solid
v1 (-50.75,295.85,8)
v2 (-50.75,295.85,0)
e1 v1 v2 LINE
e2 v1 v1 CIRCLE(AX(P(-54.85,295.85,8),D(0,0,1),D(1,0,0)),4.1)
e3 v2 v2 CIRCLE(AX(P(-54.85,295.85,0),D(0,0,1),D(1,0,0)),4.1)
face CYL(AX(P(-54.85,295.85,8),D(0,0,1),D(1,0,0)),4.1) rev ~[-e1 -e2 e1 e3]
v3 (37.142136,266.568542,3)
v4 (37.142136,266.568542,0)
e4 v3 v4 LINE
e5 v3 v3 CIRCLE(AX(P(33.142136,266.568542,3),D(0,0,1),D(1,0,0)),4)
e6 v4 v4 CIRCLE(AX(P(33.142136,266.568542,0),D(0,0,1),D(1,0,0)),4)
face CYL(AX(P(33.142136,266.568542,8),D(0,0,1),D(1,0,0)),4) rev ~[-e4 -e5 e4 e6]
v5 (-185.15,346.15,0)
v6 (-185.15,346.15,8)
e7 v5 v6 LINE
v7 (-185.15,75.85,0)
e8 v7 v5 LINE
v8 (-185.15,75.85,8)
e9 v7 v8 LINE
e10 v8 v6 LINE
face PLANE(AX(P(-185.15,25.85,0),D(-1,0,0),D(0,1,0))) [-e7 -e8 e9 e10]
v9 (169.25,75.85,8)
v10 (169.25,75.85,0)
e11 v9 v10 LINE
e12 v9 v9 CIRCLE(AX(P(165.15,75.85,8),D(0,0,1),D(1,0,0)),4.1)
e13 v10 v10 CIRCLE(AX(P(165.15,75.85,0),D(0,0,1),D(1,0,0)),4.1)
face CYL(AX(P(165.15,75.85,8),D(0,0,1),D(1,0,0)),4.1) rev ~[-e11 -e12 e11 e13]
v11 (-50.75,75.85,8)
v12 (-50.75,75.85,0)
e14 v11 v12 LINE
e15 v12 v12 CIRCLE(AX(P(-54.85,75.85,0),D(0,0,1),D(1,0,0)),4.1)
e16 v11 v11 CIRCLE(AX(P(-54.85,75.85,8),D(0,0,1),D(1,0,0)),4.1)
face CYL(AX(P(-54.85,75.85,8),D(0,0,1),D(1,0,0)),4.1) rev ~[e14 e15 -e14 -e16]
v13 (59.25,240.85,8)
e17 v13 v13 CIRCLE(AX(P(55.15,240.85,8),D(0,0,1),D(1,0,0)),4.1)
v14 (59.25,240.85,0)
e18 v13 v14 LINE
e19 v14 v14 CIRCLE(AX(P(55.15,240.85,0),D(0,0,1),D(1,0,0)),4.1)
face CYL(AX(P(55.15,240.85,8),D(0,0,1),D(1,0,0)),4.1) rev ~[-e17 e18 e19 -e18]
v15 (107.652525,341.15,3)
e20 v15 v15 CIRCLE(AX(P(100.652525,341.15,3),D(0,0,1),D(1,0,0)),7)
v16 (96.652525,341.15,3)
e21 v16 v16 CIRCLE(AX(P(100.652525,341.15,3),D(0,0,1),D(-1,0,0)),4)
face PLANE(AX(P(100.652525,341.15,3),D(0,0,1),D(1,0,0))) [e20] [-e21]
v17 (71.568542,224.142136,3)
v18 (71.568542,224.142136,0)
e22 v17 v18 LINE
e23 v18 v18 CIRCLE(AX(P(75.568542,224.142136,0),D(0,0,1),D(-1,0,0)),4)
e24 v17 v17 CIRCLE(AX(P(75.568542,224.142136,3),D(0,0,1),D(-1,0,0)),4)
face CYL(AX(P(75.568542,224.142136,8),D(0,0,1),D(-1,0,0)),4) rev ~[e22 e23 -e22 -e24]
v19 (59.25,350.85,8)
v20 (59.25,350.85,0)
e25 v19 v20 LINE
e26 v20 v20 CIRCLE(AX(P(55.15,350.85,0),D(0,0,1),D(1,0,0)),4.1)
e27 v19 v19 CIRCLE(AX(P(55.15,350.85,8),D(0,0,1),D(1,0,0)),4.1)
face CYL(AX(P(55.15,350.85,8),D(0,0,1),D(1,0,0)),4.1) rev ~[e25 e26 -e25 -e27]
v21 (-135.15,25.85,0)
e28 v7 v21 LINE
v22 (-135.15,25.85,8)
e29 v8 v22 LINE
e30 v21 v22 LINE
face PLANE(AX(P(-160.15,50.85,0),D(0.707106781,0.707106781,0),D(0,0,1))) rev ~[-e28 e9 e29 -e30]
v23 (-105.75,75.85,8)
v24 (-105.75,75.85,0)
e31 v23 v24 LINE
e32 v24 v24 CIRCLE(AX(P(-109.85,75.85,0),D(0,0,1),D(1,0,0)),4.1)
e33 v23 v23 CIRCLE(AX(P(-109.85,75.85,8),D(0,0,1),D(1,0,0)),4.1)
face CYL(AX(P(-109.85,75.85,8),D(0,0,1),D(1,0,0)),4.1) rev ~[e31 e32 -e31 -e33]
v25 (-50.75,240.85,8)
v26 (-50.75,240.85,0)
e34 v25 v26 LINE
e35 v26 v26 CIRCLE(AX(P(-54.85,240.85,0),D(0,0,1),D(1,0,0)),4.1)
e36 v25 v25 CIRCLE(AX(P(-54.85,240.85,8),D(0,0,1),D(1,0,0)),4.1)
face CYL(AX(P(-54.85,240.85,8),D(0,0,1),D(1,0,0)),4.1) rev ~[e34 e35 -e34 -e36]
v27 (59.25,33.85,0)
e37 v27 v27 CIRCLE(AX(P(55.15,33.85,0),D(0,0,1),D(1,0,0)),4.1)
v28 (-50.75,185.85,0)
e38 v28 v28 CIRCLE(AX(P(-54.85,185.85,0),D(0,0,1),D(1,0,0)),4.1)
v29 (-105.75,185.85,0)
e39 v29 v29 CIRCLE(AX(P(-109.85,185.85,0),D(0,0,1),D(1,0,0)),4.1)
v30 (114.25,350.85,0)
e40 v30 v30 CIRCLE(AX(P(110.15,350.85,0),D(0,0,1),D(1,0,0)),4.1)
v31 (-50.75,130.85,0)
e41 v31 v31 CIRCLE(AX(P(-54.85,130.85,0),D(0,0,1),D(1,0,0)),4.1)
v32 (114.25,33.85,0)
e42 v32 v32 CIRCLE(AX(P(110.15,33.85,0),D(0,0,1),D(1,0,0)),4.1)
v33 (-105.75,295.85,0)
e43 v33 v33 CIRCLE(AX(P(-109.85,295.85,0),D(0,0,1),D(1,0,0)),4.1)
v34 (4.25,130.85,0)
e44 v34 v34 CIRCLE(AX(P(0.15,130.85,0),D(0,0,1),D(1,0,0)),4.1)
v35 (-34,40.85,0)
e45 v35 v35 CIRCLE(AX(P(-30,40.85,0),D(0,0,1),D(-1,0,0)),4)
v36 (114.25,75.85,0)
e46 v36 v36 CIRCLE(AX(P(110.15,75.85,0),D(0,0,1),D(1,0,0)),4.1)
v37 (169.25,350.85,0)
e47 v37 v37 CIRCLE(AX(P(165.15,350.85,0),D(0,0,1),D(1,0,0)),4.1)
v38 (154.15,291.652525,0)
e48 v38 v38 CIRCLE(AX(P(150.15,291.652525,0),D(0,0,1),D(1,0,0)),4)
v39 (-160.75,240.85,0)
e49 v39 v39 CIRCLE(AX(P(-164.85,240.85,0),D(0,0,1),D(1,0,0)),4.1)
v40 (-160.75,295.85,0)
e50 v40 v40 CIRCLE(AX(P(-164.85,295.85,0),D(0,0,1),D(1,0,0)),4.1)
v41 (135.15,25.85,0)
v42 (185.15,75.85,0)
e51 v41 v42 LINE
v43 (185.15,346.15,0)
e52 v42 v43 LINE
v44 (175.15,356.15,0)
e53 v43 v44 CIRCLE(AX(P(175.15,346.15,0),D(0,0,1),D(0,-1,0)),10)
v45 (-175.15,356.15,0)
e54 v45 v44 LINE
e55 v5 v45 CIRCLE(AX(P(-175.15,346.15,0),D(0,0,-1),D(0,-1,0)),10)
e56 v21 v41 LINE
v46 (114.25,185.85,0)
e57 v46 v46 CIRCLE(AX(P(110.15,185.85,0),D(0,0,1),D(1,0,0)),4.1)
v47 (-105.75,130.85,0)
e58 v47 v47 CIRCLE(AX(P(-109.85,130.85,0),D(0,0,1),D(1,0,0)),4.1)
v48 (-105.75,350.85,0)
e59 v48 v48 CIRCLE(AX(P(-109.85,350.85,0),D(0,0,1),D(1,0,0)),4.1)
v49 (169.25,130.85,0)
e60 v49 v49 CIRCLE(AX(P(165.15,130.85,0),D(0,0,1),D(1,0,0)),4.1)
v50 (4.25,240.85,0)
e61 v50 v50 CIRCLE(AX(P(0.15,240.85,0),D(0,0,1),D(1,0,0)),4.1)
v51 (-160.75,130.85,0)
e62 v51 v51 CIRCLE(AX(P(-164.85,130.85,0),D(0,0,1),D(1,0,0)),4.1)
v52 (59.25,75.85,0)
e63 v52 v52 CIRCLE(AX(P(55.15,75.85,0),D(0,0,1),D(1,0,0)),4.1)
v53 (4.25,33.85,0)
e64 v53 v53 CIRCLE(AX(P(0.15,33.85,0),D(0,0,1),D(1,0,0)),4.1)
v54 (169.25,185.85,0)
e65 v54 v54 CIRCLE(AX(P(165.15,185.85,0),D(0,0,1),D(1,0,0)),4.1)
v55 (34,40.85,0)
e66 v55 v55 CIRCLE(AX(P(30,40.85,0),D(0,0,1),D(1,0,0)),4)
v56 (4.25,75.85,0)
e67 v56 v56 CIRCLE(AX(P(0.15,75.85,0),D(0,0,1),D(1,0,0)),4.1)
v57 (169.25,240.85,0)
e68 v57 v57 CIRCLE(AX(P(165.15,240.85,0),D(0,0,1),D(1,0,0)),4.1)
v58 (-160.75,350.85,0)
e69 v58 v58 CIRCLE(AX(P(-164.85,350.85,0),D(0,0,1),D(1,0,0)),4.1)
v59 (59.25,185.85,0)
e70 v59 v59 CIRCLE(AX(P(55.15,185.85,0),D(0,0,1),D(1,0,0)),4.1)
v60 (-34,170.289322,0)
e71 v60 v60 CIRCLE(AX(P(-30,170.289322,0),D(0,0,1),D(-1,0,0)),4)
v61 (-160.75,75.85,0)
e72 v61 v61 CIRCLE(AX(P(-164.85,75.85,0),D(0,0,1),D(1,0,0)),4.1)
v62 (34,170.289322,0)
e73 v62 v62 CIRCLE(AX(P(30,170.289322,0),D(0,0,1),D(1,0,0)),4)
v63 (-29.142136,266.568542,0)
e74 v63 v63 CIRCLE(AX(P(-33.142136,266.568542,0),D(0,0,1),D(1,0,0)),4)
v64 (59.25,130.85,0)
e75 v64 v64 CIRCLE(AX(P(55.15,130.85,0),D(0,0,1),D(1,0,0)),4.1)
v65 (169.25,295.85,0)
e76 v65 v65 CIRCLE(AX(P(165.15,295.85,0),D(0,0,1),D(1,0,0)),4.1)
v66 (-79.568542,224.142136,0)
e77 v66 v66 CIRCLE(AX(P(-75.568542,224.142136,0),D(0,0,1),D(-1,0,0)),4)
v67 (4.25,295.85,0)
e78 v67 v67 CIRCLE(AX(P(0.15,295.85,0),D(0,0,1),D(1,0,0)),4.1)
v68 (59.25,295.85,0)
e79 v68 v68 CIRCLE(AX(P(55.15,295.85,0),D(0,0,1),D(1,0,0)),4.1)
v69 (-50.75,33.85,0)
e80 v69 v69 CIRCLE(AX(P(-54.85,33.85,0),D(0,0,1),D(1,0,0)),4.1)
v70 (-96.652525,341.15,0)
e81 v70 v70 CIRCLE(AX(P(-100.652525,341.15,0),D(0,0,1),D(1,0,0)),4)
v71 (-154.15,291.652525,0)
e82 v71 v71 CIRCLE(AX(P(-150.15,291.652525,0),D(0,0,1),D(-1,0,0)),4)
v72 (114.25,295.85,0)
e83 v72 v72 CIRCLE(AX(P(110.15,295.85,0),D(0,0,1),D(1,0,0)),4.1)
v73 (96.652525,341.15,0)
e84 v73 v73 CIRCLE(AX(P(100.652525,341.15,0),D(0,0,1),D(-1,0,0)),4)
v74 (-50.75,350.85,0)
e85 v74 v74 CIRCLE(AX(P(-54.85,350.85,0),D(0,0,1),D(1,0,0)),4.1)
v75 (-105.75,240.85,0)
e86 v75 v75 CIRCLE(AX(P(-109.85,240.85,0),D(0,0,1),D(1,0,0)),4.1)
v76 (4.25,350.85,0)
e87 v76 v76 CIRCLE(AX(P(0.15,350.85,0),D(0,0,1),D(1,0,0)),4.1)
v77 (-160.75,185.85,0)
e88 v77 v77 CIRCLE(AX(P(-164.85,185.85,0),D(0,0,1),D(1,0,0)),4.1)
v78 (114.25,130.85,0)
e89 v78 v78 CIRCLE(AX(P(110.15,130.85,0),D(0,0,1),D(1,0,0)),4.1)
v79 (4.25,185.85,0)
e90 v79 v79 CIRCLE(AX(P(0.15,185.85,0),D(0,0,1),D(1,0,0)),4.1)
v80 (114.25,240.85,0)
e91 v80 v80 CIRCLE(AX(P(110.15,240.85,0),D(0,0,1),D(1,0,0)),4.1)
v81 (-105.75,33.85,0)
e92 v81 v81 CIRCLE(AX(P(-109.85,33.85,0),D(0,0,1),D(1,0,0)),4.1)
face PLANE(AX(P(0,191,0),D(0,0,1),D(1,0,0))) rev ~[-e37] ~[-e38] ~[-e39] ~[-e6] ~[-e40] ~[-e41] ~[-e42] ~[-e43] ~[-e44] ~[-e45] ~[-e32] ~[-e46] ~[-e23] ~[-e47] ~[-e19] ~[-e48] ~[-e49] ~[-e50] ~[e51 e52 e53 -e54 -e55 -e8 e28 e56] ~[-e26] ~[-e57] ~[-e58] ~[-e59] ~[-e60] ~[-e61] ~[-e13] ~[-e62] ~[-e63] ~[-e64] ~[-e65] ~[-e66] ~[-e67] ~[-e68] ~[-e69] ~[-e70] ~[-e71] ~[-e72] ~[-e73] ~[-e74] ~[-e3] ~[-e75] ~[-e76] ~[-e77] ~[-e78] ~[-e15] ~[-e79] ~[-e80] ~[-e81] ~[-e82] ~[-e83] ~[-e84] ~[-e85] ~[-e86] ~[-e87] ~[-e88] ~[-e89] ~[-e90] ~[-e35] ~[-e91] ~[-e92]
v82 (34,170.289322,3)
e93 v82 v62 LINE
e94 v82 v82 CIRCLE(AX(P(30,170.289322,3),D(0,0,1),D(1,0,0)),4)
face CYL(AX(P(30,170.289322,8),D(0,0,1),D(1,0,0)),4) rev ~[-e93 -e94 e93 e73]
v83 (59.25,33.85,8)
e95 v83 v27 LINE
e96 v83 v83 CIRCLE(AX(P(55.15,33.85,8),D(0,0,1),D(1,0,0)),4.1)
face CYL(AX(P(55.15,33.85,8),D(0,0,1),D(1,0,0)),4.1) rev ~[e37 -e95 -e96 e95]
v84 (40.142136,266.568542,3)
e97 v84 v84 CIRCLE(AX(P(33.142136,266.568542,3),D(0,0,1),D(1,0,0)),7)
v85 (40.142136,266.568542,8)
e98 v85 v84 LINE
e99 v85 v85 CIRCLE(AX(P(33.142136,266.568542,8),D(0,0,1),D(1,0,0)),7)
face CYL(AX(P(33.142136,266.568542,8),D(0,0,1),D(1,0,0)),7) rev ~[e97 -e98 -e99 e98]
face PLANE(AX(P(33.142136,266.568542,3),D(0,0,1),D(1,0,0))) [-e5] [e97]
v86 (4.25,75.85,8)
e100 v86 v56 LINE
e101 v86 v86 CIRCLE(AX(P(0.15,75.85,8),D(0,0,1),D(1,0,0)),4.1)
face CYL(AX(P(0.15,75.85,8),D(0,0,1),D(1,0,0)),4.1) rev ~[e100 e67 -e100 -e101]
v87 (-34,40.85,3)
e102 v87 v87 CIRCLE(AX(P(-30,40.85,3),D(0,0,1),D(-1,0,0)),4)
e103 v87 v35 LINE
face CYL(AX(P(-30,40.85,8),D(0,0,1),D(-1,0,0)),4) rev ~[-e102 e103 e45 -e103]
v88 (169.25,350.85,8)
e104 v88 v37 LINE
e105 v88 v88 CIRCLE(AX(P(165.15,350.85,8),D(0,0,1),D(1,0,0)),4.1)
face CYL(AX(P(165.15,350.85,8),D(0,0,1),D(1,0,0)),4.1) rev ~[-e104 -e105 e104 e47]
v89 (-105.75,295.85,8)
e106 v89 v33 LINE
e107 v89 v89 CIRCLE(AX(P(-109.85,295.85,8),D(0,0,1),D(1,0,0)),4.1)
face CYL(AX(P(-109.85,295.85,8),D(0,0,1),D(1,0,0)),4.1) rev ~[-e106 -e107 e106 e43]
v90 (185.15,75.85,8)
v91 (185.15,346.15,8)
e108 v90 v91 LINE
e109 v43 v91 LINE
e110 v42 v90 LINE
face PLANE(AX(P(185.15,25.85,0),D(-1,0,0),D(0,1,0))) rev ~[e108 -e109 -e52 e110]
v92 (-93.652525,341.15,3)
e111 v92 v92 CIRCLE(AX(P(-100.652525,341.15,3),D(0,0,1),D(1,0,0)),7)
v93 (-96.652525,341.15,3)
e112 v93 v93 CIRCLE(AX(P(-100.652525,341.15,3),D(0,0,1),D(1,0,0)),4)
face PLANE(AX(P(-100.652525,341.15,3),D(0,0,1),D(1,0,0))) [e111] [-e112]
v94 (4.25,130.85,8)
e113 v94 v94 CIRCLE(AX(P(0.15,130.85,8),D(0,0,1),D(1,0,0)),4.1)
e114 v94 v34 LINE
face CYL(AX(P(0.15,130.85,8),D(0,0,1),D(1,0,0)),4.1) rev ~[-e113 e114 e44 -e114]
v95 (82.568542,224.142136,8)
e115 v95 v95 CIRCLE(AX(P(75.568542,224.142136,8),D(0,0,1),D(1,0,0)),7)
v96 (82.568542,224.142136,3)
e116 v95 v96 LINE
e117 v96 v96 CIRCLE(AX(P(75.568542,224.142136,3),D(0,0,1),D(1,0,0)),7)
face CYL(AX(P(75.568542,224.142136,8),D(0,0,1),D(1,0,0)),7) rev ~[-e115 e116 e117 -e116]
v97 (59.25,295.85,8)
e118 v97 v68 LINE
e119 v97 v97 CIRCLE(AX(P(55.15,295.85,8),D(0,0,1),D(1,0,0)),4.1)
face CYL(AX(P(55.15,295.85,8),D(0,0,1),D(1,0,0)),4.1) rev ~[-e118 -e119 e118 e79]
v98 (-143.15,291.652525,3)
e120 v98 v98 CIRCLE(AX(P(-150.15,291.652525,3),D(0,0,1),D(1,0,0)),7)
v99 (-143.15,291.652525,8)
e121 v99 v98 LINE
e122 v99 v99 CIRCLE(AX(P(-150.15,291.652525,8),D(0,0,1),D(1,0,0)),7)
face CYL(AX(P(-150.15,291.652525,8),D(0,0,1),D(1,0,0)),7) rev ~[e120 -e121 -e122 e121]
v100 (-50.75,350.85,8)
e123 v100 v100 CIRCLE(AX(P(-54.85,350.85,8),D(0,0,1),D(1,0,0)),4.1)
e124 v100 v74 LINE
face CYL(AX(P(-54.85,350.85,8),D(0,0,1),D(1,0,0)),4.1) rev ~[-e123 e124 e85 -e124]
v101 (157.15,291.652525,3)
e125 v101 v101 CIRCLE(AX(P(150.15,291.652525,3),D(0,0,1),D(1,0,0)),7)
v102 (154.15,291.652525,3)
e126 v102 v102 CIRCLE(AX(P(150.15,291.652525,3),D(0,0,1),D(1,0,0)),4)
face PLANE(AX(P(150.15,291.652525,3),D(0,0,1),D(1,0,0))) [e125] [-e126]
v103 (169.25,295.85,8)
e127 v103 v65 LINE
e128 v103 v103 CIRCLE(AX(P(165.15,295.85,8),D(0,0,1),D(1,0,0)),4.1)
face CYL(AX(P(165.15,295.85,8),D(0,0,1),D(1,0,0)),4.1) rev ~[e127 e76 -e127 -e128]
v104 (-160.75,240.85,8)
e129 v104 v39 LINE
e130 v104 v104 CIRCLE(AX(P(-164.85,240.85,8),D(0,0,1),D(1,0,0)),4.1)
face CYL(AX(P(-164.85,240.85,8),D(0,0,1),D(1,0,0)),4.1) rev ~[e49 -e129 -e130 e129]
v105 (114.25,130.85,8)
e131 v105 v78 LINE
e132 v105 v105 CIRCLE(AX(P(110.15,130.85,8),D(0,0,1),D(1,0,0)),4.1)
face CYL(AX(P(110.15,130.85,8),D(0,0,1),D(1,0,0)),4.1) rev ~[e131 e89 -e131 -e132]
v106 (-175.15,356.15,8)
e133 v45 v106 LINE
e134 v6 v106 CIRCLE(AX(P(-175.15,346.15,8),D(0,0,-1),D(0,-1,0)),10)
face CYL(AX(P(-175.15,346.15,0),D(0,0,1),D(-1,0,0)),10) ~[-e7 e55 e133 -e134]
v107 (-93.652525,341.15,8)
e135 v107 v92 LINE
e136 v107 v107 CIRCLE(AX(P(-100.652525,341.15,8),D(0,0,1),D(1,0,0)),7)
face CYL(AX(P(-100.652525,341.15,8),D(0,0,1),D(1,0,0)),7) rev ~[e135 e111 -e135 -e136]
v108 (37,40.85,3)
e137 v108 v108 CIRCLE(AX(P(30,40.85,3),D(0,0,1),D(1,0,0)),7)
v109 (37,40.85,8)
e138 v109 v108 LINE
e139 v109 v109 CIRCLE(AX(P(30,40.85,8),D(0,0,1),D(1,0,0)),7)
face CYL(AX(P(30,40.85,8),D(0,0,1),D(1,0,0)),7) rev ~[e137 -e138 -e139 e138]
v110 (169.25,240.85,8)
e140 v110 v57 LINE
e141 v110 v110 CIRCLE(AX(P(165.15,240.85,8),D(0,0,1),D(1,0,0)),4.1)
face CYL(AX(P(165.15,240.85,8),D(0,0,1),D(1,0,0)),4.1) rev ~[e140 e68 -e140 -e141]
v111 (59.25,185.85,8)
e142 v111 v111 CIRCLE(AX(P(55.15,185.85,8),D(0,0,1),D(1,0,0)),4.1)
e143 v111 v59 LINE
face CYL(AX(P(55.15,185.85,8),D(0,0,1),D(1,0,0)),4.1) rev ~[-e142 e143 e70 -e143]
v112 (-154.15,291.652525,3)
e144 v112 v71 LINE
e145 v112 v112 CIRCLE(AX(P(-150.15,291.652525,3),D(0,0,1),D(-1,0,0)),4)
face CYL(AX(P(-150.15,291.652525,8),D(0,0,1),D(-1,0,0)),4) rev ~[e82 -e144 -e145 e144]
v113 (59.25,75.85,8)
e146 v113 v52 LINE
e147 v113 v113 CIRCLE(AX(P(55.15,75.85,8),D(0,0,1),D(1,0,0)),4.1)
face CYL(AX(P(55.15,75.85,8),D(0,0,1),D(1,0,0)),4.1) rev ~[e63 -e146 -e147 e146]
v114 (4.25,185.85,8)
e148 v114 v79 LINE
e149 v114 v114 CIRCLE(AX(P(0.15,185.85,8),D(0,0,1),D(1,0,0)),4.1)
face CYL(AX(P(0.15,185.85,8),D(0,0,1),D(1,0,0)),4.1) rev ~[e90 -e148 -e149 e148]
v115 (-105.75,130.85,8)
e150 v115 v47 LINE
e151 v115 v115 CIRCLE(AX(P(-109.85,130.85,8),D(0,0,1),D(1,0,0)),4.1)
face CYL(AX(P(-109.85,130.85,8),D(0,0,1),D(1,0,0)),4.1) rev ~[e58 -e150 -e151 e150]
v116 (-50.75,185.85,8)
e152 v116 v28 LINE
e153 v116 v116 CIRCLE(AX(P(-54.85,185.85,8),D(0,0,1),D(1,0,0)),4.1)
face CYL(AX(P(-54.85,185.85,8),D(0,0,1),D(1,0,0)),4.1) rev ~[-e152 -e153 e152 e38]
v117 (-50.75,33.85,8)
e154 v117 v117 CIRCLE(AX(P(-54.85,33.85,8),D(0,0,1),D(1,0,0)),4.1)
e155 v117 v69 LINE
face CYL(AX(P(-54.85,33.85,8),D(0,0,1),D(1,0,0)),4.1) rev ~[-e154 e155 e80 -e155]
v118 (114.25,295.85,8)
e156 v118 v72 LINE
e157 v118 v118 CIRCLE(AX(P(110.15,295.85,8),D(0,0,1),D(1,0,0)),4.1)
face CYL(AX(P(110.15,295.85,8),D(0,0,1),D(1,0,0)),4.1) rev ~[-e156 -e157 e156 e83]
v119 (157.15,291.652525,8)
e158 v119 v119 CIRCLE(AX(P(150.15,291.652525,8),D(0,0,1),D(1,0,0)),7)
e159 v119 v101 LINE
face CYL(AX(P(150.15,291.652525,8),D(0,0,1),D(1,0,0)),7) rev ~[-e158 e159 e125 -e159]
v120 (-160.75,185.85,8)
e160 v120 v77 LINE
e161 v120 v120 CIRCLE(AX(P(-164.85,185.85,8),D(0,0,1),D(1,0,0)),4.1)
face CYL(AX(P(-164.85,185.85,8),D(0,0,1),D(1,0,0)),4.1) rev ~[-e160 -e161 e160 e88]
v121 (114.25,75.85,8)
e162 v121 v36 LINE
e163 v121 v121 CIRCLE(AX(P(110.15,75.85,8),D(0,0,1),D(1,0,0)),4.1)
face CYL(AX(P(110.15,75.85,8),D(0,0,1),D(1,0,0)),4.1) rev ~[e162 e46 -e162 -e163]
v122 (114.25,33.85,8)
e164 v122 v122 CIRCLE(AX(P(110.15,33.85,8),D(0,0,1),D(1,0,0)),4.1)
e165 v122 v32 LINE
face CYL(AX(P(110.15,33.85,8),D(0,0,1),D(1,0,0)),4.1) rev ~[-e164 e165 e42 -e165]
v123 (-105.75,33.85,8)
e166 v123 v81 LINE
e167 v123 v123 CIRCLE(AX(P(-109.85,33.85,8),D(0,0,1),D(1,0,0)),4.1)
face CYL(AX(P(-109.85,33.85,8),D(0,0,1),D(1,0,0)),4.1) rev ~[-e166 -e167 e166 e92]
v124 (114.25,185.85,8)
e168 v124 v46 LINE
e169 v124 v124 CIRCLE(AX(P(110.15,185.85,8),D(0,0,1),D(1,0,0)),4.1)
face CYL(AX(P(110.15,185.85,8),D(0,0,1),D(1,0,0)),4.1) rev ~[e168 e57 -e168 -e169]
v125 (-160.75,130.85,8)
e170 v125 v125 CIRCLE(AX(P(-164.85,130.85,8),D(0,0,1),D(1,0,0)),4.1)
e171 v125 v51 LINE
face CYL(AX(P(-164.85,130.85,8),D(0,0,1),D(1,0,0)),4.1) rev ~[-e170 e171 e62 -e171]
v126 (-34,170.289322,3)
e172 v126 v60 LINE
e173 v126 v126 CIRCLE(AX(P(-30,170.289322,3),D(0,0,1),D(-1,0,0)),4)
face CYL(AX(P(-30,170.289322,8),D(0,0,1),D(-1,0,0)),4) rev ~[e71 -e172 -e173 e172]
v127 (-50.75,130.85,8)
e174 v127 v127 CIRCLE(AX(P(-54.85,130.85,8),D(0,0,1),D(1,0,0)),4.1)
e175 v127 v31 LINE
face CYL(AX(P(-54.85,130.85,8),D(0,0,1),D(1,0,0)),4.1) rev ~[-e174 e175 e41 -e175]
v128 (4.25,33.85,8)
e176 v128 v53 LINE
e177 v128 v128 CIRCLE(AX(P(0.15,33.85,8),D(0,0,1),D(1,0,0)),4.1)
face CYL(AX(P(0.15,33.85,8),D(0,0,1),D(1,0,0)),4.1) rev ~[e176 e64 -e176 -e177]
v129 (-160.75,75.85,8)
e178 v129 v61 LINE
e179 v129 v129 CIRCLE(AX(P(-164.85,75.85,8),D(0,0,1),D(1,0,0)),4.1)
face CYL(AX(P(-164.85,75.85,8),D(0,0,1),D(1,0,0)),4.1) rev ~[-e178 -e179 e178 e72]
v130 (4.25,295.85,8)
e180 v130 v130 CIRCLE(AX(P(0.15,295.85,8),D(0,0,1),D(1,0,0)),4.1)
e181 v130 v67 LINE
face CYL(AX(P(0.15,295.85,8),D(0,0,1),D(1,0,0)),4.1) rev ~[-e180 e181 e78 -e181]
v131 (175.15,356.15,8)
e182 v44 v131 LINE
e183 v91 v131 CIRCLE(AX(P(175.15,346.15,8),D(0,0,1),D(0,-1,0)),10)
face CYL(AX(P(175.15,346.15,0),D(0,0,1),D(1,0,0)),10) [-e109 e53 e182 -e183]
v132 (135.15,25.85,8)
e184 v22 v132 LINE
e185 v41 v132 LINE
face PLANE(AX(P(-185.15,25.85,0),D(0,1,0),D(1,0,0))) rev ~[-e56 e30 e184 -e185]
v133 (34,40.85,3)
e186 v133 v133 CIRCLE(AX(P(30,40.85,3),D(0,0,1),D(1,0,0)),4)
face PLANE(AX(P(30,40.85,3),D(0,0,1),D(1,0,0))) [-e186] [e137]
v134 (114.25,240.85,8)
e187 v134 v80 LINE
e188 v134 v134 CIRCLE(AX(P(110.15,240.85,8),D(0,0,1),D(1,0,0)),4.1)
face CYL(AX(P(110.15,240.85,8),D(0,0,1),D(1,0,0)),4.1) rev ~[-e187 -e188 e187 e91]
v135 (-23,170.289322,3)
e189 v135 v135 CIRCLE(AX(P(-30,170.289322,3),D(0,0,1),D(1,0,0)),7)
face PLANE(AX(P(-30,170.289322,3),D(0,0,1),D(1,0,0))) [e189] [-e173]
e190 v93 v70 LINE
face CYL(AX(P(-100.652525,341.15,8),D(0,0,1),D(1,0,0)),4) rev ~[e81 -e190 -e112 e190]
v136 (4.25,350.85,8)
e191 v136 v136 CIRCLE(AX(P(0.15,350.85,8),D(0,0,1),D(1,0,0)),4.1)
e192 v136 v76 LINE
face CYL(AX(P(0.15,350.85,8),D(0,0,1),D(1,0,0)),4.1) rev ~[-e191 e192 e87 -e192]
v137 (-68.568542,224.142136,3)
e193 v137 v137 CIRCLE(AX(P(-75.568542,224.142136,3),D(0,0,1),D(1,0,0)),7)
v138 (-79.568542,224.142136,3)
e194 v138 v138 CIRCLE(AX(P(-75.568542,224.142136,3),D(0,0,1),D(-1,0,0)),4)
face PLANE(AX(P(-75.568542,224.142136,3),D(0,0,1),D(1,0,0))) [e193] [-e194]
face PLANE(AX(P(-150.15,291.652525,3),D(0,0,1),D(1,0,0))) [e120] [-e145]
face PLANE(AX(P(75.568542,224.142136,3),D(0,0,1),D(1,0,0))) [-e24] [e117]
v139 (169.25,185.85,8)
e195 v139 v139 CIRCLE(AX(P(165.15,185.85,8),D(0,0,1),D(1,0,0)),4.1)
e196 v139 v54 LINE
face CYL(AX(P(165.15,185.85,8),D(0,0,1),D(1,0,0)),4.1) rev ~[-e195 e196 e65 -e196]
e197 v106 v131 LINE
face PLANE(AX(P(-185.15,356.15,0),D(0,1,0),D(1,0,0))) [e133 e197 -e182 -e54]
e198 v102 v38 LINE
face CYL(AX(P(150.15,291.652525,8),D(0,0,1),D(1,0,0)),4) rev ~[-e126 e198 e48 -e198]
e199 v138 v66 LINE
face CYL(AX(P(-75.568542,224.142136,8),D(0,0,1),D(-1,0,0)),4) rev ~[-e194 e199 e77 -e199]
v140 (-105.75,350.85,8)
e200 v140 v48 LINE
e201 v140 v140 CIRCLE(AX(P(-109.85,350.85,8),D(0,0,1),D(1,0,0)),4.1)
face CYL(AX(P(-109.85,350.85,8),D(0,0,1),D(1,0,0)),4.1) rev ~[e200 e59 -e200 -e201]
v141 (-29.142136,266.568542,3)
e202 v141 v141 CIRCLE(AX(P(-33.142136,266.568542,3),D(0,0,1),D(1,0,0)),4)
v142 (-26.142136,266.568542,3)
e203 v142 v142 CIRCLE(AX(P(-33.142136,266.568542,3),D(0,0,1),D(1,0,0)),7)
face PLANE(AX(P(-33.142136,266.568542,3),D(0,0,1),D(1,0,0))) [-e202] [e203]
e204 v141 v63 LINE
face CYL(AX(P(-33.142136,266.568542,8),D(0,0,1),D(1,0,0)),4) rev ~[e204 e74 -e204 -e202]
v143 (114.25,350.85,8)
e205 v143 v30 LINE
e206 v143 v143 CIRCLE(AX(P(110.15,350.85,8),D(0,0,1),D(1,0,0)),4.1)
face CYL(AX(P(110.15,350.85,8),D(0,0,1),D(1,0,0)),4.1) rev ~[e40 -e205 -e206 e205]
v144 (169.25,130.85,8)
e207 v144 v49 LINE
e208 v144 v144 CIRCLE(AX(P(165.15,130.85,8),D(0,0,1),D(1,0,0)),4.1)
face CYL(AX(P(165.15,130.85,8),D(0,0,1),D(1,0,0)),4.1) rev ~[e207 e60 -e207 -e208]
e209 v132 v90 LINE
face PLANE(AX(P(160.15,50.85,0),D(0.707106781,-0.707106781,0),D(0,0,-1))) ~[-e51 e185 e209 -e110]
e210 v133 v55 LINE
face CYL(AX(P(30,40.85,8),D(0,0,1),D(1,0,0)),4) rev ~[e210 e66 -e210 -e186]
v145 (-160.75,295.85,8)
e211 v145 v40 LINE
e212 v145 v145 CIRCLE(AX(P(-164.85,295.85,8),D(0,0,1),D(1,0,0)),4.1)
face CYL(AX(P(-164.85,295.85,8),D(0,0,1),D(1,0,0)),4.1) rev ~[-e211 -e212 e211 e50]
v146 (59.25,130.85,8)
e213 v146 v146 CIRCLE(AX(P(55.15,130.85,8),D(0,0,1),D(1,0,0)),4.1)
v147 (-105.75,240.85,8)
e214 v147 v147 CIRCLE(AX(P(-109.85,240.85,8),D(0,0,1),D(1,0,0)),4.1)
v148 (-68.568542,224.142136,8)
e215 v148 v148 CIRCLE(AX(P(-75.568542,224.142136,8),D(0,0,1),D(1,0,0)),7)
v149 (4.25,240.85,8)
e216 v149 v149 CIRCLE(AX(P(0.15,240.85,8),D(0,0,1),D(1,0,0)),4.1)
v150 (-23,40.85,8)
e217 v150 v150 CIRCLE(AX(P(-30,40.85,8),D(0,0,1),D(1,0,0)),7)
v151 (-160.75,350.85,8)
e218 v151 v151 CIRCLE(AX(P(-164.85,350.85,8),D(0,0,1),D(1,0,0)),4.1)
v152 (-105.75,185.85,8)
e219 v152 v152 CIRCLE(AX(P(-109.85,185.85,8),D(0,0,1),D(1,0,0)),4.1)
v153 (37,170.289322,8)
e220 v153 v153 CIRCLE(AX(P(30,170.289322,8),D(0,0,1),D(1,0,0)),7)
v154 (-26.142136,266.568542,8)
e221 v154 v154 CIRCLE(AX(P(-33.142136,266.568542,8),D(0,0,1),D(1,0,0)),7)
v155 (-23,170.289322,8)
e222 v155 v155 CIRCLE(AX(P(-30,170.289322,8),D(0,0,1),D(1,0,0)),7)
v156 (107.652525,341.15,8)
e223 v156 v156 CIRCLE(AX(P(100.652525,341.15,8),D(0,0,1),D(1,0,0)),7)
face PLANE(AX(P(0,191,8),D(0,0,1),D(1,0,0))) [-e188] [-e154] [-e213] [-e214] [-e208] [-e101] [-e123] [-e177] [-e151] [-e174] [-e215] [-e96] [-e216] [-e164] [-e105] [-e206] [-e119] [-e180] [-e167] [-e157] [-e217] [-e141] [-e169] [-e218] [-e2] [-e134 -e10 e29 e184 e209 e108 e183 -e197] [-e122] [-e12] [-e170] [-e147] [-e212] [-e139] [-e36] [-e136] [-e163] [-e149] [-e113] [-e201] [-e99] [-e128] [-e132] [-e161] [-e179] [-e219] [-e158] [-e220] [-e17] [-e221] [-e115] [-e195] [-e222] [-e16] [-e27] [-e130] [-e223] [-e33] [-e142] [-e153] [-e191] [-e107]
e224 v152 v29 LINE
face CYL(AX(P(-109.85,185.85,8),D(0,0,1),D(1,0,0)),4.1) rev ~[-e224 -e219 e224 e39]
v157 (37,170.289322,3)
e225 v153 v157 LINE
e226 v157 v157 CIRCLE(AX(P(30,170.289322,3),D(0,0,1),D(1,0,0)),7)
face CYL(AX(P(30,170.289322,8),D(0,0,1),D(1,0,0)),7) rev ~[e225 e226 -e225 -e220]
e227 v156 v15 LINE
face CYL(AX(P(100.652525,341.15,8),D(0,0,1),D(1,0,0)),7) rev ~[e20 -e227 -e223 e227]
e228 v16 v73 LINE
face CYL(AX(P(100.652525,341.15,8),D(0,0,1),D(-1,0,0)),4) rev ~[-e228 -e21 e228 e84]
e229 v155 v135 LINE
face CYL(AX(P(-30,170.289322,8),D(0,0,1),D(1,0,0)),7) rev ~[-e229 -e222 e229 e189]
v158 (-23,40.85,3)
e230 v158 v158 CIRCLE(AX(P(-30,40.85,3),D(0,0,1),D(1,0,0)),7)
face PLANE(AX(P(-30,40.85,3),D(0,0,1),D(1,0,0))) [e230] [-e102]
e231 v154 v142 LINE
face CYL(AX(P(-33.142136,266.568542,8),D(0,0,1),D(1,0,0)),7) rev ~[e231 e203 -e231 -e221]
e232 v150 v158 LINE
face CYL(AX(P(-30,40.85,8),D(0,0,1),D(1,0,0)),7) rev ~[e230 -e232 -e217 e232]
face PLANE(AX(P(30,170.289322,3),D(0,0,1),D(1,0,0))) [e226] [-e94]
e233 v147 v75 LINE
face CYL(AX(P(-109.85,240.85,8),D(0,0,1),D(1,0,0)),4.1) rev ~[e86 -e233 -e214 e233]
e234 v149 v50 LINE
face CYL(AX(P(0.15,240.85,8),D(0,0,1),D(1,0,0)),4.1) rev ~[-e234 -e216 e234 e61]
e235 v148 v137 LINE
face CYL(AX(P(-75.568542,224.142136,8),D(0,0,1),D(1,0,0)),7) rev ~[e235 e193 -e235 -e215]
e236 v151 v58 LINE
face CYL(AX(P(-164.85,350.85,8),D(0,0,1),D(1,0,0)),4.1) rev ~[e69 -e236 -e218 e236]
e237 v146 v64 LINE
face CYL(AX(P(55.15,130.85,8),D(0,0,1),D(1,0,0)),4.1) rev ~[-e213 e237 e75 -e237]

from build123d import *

# Parameters (mm, degrees)
ESQUISSE2_W             = 370.3
ESQUISSE2_H             = 330.3
BOSS_EXTRU_1_DEPTH      = 8
CONG_1_R                = 10
CHANFREIN1_SIZE         = 50
ESQUISSE4_R             = 4
ENL_V_MAT_EXTRU_1_DEPTH = 10
ESQUISSE5_R             = 7
ENL_V_MAT_EXTRU_2_DEPTH = 5
ESQUISSE6_R             = 4.1
ENL_V_MAT_EXTRU_3_DEPTH = 10


with BuildPart() as part:
    # Esquisse2 → Boss.-Extru.1 (new body)
    with BuildSketch(Plane.XY):
        with Locations((0, 191)):
            Rectangle(ESQUISSE2_W, ESQUISSE2_H)
    extrude(amount=BOSS_EXTRU_1_DEPTH)

    # Congé1
    cong_1_edges = [part.edges().sort_by_distance(p)[0] for p in [
        (-185.15, 356.15, 4),
        (185.15, 356.15, 4),
    ]]
    fillet(cong_1_edges, radius=CONG_1_R)

    # Chanfrein1
    chanfrein1_edges = [part.edges().sort_by_distance(p)[0] for p in [
        (185.15, 25.85, 4),
        (-185.15, 25.85, 4),
    ]]
    chamfer(chanfrein1_edges, length=CHANFREIN1_SIZE)

    # Esquisse4 → Enlèv. mat.-Extru.1 (cut)
    with BuildSketch(Plane.XY.offset(8)):
        with Locations((30, 170.289321881)):
            Circle(ESQUISSE4_R)
        with Locations(Location((-30, 170.289321881, 0), (0, 0, 180))):
            Circle(ESQUISSE4_R)
        with Locations((-33.142135624, 266.568542495)):
            Circle(ESQUISSE4_R)
        with Locations(Location((-75.568542495, 224.142135624, 0), (0, 0, 180))):
            Circle(ESQUISSE4_R)
        with Locations((33.142135624, 266.568542495)):
            Circle(ESQUISSE4_R)
        with Locations(Location((75.568542495, 224.142135624, 0), (0, 0, 180))):
            Circle(ESQUISSE4_R)
        with Locations((30, 40.85)):
            Circle(ESQUISSE4_R)
        with Locations(Location((-30, 40.85, 0), (0, 0, 180))):
            Circle(ESQUISSE4_R)
        with Locations((-100.652525317, 341.15)):
            Circle(ESQUISSE4_R)
        with Locations(Location((-150.15, 291.652525317, 0), (0, 0, 180))):
            Circle(ESQUISSE4_R)
        with Locations(Location((100.652525317, 341.15, 0), (0, 0, 180))):
            Circle(ESQUISSE4_R)
        with Locations((150.15, 291.652525317)):
            Circle(ESQUISSE4_R)
    extrude(amount=-ENL_V_MAT_EXTRU_1_DEPTH, mode=Mode.SUBTRACT)

    # Esquisse5 → Enlèv. mat.-Extru.2 (cut)
    with BuildSketch(Plane.XY.offset(8)):
        with Locations((30, 40.85)):
            Circle(ESQUISSE5_R)
        with Locations((-30, 40.85)):
            Circle(ESQUISSE5_R)
        with Locations((30, 170.289321881)):
            Circle(ESQUISSE5_R)
        with Locations((-30, 170.289321881)):
            Circle(ESQUISSE5_R)
        with Locations((75.568542495, 224.142135624)):
            Circle(ESQUISSE5_R)
        with Locations((33.142135624, 266.568542495)):
            Circle(ESQUISSE5_R)
        with Locations((150.15, 291.652525317)):
            Circle(ESQUISSE5_R)
        with Locations((100.652525317, 341.15)):
            Circle(ESQUISSE5_R)
        with Locations((-33.142135624, 266.568542495)):
            Circle(ESQUISSE5_R)
        with Locations((-75.568542495, 224.142135624)):
            Circle(ESQUISSE5_R)
        with Locations((-150.15, 291.652525317)):
            Circle(ESQUISSE5_R)
        with Locations((-100.652525317, 341.15)):
            Circle(ESQUISSE5_R)
    extrude(amount=-ENL_V_MAT_EXTRU_2_DEPTH, mode=Mode.SUBTRACT)

    # Esquisse6 → Enlèv. mat.-Extru.3 (cut)
    with BuildSketch(Plane.XY.offset(8)):
        with Locations((165.15, 75.85)):
            Circle(ESQUISSE6_R)
        with Locations((110.15, 75.85)):
            Circle(ESQUISSE6_R)
        with Locations((55.15, 75.85)):
            Circle(ESQUISSE6_R)
        with Locations((0.15, 75.85)):
            Circle(ESQUISSE6_R)
        with Locations((-54.85, 75.85)):
            Circle(ESQUISSE6_R)
        with Locations((-109.85, 75.85)):
            Circle(ESQUISSE6_R)
        with Locations((-164.85, 75.85)):
            Circle(ESQUISSE6_R)
        with Locations((110.15, 130.85)):
            Circle(ESQUISSE6_R)
        with Locations((55.15, 130.85)):
            Circle(ESQUISSE6_R)
        with Locations((0.15, 130.85)):
            Circle(ESQUISSE6_R)
        with Locations((-54.85, 130.85)):
            Circle(ESQUISSE6_R)
        with Locations((-109.85, 130.85)):
            Circle(ESQUISSE6_R)
        with Locations((-164.85, 130.85)):
            Circle(ESQUISSE6_R)
        with Locations((110.15, 185.85)):
            Circle(ESQUISSE6_R)
        with Locations((55.15, 185.85)):
            Circle(ESQUISSE6_R)
        with Locations((0.15, 185.85)):
            Circle(ESQUISSE6_R)
        with Locations((-54.85, 185.85)):
            Circle(ESQUISSE6_R)
        with Locations((-109.85, 185.85)):
            Circle(ESQUISSE6_R)
        with Locations((-164.85, 185.85)):
            Circle(ESQUISSE6_R)
        with Locations((110.15, 240.85)):
            Circle(ESQUISSE6_R)
        with Locations((55.15, 240.85)):
            Circle(ESQUISSE6_R)
        with Locations((0.15, 240.85)):
            Circle(ESQUISSE6_R)
        with Locations((-54.85, 240.85)):
            Circle(ESQUISSE6_R)
        with Locations((-109.85, 240.85)):
            Circle(ESQUISSE6_R)
        with Locations((-164.85, 240.85)):
            Circle(ESQUISSE6_R)
        with Locations((110.15, 295.85)):
            Circle(ESQUISSE6_R)
        with Locations((55.15, 295.85)):
            Circle(ESQUISSE6_R)
        with Locations((0.15, 295.85)):
            Circle(ESQUISSE6_R)
        with Locations((-54.85, 295.85)):
            Circle(ESQUISSE6_R)
        with Locations((-109.85, 295.85)):
            Circle(ESQUISSE6_R)
        with Locations((-164.85, 295.85)):
            Circle(ESQUISSE6_R)
        with Locations((110.15, 350.85)):
            Circle(ESQUISSE6_R)
        with Locations((55.15, 350.85)):
            Circle(ESQUISSE6_R)
        with Locations((0.15, 350.85)):
            Circle(ESQUISSE6_R)
        with Locations((-54.85, 350.85)):
            Circle(ESQUISSE6_R)
        with Locations((-109.85, 350.85)):
            Circle(ESQUISSE6_R)
        with Locations((-164.85, 350.85)):
            Circle(ESQUISSE6_R)
        with Locations((165.15, 130.85)):
            Circle(ESQUISSE6_R)
        with Locations((165.15, 185.85)):
            Circle(ESQUISSE6_R)
        with Locations((165.15, 240.85)):
            Circle(ESQUISSE6_R)
        with Locations((165.15, 295.85)):
            Circle(ESQUISSE6_R)
        with Locations((165.15, 350.85)):
            Circle(ESQUISSE6_R)
        with Locations((110.15, 33.85)):
            Circle(ESQUISSE6_R)
        with Locations((55.15, 33.85)):
            Circle(ESQUISSE6_R)
        with Locations((0.15, 33.85)):
            Circle(ESQUISSE6_R)
        with Locations((-54.85, 33.85)):
            Circle(ESQUISSE6_R)
        with Locations((-109.85, 33.85)):
            Circle(ESQUISSE6_R)
    extrude(amount=-ENL_V_MAT_EXTRU_3_DEPTH, mode=Mode.SUBTRACT)


solid = part.part
